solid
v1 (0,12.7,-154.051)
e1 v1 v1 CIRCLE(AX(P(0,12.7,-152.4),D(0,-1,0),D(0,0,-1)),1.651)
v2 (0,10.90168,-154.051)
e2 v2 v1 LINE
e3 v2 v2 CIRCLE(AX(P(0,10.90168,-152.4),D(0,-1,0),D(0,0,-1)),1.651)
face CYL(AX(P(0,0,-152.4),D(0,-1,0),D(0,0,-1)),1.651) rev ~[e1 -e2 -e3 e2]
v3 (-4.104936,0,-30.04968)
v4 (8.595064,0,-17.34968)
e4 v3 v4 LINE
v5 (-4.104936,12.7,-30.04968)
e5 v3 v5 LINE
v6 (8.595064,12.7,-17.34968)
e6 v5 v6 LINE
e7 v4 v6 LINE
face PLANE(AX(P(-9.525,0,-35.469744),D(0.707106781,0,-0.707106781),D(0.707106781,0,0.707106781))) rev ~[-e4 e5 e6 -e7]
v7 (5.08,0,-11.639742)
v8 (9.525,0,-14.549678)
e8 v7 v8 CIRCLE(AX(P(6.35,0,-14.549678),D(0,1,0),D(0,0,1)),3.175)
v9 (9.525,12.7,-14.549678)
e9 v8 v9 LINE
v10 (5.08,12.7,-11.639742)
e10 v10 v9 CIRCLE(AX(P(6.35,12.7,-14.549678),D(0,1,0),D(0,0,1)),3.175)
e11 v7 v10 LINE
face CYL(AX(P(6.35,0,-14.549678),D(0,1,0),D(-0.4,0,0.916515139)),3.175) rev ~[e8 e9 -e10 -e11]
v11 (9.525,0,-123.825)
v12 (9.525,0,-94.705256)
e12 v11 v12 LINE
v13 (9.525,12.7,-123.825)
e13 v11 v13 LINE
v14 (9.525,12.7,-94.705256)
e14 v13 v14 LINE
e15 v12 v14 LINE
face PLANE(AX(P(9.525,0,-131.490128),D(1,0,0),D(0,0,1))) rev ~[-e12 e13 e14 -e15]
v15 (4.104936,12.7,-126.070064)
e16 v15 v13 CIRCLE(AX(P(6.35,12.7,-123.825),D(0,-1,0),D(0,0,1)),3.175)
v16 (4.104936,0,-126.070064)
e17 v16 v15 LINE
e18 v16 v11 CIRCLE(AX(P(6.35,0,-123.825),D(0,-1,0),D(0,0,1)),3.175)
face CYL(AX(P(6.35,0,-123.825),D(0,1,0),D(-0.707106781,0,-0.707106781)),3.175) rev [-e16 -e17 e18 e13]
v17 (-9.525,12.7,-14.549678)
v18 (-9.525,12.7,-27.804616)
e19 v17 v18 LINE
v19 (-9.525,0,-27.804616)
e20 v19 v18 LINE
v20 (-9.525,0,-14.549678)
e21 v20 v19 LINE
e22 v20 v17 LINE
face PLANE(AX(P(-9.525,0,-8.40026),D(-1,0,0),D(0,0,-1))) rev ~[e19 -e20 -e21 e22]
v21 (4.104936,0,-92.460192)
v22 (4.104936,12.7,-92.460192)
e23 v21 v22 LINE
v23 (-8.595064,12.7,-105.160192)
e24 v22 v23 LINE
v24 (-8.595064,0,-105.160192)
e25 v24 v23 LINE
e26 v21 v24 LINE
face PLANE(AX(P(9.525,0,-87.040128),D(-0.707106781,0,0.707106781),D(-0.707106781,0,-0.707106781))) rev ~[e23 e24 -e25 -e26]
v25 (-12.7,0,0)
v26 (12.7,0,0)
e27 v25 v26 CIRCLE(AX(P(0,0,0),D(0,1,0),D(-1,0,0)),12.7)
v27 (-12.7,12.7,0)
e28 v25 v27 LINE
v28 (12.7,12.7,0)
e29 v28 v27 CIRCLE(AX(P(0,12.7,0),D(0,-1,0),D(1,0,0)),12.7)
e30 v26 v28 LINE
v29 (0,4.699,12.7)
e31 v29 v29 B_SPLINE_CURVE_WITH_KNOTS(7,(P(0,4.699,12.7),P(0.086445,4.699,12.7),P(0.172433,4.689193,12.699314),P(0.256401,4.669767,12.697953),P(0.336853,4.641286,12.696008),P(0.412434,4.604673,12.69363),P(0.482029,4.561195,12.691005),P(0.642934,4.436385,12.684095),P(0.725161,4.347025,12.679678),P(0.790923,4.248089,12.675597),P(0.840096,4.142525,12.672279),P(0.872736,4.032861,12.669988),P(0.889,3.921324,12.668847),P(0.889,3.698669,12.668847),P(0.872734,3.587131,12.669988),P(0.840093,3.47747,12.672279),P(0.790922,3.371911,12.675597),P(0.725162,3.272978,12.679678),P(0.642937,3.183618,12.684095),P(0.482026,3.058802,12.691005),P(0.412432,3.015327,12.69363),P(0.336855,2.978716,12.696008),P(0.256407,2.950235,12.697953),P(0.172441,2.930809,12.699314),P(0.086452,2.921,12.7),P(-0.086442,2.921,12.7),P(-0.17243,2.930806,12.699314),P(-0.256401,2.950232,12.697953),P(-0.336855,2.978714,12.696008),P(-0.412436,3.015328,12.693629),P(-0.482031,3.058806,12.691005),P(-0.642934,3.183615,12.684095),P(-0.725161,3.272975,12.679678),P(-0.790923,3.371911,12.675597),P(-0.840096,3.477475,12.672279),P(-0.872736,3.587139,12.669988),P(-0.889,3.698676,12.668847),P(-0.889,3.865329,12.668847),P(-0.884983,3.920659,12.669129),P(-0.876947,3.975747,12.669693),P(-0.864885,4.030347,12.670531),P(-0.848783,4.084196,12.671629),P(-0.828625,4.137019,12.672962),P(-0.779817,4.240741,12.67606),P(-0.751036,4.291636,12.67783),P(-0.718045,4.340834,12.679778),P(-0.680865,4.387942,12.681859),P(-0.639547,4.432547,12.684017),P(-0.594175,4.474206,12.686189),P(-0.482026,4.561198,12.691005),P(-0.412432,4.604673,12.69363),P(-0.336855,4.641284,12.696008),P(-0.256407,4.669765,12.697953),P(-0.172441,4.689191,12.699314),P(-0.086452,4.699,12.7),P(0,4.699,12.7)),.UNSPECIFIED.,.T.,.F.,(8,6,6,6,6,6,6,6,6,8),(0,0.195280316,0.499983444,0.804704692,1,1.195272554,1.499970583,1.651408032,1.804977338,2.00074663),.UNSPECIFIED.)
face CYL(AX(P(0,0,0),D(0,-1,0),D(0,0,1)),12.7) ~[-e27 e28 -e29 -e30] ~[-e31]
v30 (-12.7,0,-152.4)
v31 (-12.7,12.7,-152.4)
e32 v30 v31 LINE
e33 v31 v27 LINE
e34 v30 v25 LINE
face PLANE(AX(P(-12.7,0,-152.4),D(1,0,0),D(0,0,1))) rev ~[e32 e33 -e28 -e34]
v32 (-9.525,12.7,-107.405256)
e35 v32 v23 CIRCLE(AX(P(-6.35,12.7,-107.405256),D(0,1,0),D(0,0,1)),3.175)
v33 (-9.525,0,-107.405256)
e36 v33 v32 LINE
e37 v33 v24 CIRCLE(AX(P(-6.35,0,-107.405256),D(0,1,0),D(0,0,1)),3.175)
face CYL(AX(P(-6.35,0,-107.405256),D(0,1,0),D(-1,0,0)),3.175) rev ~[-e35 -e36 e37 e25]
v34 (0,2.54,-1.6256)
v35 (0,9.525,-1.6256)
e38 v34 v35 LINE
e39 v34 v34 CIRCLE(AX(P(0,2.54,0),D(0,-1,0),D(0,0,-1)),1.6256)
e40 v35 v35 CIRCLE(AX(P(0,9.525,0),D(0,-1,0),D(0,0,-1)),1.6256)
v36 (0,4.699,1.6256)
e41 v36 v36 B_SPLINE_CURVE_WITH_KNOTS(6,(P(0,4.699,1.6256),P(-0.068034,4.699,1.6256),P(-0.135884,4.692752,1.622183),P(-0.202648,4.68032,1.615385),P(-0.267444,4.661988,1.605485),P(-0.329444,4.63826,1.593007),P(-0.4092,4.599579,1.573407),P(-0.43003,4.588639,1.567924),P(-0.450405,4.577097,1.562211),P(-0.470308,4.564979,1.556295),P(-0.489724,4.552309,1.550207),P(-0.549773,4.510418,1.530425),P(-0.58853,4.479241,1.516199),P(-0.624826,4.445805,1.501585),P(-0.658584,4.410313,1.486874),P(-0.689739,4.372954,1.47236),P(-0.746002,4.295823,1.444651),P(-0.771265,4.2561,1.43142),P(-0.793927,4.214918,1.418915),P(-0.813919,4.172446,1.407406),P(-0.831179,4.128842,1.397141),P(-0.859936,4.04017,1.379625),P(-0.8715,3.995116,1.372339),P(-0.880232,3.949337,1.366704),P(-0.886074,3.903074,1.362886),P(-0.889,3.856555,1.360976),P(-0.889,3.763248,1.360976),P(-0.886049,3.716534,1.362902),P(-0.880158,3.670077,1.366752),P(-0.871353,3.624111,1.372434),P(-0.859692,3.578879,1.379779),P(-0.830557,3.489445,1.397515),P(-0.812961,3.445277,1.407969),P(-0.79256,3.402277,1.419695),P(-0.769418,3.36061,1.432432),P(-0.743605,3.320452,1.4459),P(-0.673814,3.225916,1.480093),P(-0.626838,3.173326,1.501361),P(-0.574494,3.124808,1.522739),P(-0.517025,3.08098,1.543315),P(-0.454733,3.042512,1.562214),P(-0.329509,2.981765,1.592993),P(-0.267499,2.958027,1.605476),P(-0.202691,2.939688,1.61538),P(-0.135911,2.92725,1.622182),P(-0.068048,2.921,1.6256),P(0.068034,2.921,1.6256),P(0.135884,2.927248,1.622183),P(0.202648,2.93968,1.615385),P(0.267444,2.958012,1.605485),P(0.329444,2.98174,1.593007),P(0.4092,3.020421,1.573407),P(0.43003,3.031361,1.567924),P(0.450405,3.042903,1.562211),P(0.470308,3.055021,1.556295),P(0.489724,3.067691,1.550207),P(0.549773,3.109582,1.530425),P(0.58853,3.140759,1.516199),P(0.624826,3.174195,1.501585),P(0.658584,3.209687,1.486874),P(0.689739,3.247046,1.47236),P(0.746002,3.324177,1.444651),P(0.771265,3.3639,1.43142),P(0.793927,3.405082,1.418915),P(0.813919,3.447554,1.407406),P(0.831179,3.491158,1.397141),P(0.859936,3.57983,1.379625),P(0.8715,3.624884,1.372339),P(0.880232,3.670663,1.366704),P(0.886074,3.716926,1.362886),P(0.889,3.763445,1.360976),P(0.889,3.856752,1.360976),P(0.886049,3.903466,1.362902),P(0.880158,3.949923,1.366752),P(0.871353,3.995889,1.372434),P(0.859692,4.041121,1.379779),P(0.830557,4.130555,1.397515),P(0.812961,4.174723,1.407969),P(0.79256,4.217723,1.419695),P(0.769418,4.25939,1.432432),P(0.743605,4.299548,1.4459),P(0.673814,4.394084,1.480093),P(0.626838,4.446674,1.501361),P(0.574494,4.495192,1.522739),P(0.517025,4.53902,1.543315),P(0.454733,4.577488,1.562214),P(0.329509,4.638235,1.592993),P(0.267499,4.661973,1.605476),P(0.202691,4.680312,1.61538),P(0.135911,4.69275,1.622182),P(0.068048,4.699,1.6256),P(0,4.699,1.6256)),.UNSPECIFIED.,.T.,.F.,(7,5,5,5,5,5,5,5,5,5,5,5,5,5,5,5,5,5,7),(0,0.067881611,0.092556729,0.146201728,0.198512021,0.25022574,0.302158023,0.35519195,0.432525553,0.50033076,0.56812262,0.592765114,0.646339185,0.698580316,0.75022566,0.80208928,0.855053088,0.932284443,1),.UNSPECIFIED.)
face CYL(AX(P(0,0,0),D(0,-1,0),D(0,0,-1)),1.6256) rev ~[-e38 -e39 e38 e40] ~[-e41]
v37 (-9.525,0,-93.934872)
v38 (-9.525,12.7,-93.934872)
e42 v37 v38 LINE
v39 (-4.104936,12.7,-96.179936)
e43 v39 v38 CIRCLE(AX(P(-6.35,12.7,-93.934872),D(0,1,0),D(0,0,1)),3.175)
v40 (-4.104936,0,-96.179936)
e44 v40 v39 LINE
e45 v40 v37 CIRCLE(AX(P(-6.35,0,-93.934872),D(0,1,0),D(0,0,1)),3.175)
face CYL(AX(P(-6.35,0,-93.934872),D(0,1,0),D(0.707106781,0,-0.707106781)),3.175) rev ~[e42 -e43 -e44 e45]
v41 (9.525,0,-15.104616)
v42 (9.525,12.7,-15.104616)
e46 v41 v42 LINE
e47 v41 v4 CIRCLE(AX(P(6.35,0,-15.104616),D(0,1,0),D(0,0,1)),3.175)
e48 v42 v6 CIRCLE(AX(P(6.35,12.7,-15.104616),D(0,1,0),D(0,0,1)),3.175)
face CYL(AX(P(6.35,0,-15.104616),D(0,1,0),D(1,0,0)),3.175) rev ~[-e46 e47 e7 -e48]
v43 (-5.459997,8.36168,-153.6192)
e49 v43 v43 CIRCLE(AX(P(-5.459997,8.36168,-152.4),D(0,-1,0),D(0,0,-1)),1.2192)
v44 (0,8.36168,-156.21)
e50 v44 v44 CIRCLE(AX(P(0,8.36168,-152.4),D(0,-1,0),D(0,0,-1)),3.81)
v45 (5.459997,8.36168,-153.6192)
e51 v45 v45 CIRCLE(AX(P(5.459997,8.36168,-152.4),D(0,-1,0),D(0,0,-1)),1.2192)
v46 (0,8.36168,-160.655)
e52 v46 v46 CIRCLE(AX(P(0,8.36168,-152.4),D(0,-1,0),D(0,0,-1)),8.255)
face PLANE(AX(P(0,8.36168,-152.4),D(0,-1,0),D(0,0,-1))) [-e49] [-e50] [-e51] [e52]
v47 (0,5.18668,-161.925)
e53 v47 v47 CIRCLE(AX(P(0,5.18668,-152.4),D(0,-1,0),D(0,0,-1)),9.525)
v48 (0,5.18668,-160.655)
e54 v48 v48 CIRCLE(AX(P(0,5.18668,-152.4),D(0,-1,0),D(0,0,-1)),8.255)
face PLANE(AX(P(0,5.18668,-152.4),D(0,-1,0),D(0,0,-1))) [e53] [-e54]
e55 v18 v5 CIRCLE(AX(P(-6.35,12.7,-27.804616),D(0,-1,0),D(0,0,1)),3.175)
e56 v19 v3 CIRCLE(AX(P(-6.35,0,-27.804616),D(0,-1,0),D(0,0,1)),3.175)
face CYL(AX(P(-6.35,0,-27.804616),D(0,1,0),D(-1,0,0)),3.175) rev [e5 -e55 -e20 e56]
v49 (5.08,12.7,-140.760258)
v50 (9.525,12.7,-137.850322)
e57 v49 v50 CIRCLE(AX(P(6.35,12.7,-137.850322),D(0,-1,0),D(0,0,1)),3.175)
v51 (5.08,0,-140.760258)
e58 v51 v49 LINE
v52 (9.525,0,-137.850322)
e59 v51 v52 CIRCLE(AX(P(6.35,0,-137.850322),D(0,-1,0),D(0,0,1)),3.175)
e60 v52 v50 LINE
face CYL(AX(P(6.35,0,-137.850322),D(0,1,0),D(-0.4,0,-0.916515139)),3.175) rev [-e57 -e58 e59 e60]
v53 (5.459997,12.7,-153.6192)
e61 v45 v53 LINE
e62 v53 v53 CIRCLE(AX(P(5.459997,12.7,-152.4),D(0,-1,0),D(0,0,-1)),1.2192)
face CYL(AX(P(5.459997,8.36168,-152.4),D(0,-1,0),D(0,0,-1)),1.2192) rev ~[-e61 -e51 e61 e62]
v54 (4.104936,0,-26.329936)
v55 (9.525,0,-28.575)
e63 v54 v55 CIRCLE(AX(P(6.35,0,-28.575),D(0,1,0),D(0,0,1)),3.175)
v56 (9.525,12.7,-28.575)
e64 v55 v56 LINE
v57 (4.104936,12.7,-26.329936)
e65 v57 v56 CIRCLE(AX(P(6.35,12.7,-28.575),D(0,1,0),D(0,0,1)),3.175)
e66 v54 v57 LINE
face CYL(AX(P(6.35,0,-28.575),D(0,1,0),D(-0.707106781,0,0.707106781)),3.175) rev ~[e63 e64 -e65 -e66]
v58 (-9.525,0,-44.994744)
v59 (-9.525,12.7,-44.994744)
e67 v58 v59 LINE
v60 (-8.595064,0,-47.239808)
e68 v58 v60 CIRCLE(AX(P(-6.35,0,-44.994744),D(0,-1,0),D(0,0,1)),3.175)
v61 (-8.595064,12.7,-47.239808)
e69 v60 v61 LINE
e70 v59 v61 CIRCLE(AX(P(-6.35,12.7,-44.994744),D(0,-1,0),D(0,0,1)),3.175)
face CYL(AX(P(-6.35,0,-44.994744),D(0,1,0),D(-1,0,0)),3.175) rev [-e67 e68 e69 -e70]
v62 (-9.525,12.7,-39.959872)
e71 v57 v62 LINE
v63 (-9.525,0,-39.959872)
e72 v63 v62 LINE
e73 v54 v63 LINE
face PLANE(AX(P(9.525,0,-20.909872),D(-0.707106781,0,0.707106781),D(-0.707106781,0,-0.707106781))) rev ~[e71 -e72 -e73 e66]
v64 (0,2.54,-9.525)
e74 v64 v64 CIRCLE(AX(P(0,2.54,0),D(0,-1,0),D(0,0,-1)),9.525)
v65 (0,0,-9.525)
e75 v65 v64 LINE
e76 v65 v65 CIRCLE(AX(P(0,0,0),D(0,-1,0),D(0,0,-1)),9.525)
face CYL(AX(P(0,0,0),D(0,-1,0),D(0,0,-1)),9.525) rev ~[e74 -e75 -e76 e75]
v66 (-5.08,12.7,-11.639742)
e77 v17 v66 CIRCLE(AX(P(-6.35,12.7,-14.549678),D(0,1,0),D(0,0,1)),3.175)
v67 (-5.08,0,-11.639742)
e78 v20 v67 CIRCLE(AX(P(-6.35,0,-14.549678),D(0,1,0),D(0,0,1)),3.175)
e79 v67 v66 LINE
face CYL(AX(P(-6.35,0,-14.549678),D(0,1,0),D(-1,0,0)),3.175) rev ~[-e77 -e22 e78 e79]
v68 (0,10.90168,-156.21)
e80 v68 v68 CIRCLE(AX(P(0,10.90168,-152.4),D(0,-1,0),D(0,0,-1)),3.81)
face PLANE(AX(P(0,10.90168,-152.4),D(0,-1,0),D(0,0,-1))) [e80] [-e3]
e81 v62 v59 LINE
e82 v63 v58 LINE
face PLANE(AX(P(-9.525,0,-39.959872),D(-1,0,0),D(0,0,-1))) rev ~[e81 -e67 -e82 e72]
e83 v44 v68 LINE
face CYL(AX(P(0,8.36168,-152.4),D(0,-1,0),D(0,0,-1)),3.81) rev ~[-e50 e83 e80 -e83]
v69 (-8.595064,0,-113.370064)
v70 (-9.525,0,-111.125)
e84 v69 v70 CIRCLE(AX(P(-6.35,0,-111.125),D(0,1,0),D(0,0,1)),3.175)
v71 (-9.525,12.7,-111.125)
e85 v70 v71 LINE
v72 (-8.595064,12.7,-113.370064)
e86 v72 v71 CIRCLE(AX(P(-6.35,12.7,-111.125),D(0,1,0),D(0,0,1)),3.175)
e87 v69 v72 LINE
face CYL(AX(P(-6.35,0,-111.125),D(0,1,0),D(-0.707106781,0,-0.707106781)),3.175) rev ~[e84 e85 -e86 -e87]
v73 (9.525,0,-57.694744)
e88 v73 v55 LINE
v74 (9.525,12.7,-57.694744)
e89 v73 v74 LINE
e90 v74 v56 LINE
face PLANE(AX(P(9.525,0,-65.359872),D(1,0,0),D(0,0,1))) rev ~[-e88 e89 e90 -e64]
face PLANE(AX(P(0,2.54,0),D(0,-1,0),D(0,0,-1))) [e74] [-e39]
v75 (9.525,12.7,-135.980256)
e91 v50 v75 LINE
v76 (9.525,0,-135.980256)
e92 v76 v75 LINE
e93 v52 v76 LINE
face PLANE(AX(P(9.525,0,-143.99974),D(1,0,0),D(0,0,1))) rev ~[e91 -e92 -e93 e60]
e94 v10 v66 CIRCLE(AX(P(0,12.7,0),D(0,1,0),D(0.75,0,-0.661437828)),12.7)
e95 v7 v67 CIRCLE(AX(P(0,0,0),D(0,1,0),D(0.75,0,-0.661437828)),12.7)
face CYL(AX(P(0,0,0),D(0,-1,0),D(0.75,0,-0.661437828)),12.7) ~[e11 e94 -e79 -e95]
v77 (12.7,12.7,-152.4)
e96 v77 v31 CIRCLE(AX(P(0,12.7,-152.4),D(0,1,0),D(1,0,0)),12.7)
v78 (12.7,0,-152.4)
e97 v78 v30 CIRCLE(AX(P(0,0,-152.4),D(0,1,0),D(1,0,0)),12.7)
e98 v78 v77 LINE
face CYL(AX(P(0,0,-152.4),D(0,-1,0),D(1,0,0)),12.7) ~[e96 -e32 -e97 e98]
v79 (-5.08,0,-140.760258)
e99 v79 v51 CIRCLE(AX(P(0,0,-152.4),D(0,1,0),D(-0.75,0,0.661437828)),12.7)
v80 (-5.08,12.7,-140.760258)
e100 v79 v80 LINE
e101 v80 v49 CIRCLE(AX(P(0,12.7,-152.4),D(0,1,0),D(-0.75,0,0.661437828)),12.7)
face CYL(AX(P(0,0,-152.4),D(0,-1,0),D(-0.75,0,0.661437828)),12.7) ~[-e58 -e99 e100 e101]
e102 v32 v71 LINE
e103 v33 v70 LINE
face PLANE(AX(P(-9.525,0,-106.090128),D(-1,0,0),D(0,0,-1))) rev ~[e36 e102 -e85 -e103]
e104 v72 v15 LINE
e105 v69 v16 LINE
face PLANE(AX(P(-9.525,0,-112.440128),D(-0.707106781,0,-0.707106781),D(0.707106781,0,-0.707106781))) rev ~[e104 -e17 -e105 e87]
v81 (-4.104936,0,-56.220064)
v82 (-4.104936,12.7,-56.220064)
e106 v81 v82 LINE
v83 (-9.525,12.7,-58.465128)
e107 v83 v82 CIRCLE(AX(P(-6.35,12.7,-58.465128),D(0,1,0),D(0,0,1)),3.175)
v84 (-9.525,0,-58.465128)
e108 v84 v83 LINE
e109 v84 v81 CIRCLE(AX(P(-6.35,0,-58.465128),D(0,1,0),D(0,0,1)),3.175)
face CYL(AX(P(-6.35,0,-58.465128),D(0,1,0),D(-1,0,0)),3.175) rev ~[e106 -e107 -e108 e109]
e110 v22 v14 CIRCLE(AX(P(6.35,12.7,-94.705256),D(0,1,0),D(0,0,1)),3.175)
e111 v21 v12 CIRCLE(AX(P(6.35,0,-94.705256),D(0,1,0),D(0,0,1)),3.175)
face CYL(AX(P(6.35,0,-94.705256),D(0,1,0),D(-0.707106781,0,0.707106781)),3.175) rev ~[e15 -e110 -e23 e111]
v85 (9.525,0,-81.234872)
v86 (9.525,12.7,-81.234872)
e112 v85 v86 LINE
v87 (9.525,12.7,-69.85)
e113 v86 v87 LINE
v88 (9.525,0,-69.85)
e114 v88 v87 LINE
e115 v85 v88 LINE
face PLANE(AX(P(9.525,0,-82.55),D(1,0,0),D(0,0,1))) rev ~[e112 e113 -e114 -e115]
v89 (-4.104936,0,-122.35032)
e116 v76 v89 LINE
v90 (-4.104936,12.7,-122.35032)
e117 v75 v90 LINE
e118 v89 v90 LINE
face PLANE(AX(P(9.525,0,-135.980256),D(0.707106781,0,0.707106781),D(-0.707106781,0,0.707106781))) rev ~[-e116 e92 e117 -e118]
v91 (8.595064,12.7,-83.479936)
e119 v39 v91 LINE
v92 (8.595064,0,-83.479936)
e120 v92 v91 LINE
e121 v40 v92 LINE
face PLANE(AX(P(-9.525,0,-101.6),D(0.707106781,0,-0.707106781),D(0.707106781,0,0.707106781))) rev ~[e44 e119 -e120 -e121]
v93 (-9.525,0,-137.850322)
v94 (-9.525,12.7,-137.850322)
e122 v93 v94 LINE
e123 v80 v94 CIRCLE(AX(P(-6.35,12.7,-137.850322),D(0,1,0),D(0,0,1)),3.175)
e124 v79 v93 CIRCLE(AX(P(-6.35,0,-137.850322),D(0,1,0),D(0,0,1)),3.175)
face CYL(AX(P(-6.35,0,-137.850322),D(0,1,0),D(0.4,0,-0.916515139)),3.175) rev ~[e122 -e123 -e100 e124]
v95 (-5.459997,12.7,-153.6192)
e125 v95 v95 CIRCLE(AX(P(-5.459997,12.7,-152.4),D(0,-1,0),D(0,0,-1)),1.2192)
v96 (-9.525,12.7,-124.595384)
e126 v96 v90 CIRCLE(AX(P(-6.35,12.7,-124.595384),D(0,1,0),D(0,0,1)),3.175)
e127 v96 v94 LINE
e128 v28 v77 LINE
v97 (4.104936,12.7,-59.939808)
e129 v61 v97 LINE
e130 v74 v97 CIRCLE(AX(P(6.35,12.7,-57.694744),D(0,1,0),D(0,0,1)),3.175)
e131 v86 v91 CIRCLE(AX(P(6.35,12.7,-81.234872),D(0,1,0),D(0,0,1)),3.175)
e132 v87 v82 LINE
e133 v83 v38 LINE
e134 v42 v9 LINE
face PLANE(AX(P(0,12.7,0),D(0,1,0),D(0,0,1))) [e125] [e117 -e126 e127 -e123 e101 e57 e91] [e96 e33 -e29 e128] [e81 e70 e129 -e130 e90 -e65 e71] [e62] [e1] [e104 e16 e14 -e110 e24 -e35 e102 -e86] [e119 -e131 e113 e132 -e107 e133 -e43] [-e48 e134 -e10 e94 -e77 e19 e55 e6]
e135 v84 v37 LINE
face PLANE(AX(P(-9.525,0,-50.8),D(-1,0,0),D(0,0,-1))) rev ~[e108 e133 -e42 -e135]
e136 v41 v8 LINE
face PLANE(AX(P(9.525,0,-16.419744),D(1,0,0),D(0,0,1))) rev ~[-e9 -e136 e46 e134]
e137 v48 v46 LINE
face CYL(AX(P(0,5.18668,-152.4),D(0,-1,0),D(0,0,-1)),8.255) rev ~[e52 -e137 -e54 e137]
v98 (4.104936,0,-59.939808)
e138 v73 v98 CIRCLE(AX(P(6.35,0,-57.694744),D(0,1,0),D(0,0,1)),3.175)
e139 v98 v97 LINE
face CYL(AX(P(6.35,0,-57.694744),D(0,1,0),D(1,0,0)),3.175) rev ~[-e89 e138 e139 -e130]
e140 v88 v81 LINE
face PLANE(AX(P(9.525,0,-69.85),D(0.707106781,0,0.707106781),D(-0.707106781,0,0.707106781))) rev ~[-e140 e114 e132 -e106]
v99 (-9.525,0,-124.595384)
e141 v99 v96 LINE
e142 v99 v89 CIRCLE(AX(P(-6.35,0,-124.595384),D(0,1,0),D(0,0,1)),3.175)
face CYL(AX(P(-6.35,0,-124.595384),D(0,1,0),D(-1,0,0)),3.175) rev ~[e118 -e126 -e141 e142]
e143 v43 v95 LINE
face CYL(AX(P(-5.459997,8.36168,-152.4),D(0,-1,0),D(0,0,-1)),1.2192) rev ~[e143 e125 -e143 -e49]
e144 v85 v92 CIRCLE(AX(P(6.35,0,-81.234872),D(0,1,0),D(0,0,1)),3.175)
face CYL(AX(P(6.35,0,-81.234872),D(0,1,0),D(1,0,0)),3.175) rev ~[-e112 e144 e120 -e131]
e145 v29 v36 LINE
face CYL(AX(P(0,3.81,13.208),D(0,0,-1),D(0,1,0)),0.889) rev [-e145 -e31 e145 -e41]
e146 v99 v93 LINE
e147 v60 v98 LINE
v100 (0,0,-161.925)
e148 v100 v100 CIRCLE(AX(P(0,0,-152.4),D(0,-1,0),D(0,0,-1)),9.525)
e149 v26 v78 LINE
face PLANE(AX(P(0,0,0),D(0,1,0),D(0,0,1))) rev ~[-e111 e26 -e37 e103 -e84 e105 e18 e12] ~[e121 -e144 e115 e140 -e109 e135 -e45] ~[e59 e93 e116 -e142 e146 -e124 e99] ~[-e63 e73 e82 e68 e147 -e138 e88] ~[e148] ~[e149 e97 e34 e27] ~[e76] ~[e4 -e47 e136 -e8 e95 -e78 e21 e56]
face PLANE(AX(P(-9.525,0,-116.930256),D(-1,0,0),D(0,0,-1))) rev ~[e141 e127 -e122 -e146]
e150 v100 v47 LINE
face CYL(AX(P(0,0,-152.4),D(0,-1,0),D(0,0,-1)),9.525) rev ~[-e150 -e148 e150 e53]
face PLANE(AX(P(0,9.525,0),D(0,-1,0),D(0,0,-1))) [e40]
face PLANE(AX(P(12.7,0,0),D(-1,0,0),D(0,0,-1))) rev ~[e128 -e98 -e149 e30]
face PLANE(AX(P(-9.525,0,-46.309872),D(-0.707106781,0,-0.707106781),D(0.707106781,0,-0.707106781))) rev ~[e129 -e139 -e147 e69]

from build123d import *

# Parameters (mm, degrees)
SKETCH1_R           = 12.7
BOSS_EXTRUDE1_DEPTH = 12.7
SKETCH2_R           = 1.6256
CUT_EXTRUDE1_DEPTH  = 9.525
SKETCH3_R           = 9.525
CUT_EXTRUDE2_DEPTH  = 2.54
BOSS_EXTRUDE2_START = -12.7
BOSS_EXTRUDE2_DEPTH = 12.7
SKETCH10_R          = 1.651
CUT_EXTRUDE4_DEPTH  = 12.7
SKETCH11_R          = 9.525
CUT_EXTRUDE5_DEPTH  = 5.18668
CUT_EXTRUDE6_DEPTH  = 12.7
FILLET1_R           = 3.175
SKETCH16_R          = 8.255
CUT_EXTRUDE8_DEPTH  = 3.175
SKETCH17_R          = 1.2192
CUT_EXTRUDE9_DEPTH  = 4.33832
SKETCH18_R          = 3.81
CUT_EXTRUDE10_DEPTH = 2.54


with BuildPart() as part:
    # Sketch1 → Boss-Extrude1 (new body)
    with BuildSketch(Plane(origin=(0, 0, 0), x_dir=(1, 0, 0), z_dir=(0, 1, 0))):
        with Locations(Location((0, 0, 0), (0, 0, 270))):
            Circle(SKETCH1_R)
    extrude(amount=BOSS_EXTRUDE1_DEPTH)

    # Sketch2 → Cut-Extrude1 (cut)
    with BuildSketch(Plane.XZ):
        with Locations(Location((0, 0, 0), (0, 0, 270))):
            Circle(SKETCH2_R)
    extrude(amount=-CUT_EXTRUDE1_DEPTH, mode=Mode.SUBTRACT)

    # Sketch3 → Cut-Extrude2 (cut)
    with BuildSketch(Plane.XZ):
        with Locations(Location((0, 0, 0), (0, 0, 270))):
            Circle(SKETCH3_R)
    extrude(amount=-CUT_EXTRUDE2_DEPTH, mode=Mode.SUBTRACT)

    # Sketch5 → #2-56 Tapped Hole1 (revolve, cut)
    with BuildSketch(Plane(origin=(0, 3.81, 0), x_dir=(0, 1, 0), z_dir=(1, 0, 0))):
        Polygon((0, 0), (0, 13.74216509), (0.889, 13.208), (0.889, 0), align=None)
    revolve(axis=Axis((0, 3.81, -6.35), (0, 0, 1)), mode=Mode.SUBTRACT)

    # Sketch7 → Boss-Extrude2 (add)
    with BuildSketch(Plane(origin=(0, 12.7, 0), x_dir=(1, 0, 0), z_dir=(0, 1, 0)).offset(BOSS_EXTRUDE2_START)):
        with BuildLine():
            Line((-12.7, 152.4), (-12.7, 0))
            ThreePointArc((-12.7, 0), (0, 12.7), (12.7, 0))
            Line((12.7, 0), (12.7, 152.4))
            ThreePointArc((12.7, 152.4), (0, 165.1), (-12.7, 152.4))
        make_face()
    extrude(amount=BOSS_EXTRUDE2_DEPTH)

    # Sketch10 → Cut-Extrude4 (cut)
    with BuildSketch(Plane.XZ):
        with Locations(Location((0, -152.4, 0), (0, 0, 270))):
            Circle(SKETCH10_R)
    extrude(amount=-CUT_EXTRUDE4_DEPTH, mode=Mode.SUBTRACT)

    # Sketch11 → Cut-Extrude5 (cut)
    with BuildSketch(Plane.XZ):
        with Locations(Location((0, -152.4, 0), (0, 0, 270))):
            Circle(SKETCH11_R)
    extrude(amount=-CUT_EXTRUDE5_DEPTH, mode=Mode.SUBTRACT)

    # Sketch15 → Cut-Extrude6 (cut)
    with BuildSketch(Plane.XZ):
        with BuildLine():
            Line((-9.525, -35.469743879), (9.525, -16.419743879))
            Line((9.525, -16.419743879), (9.525, -8.400260413))
            ThreePointArc((9.525, -8.400260413), (0, -12.7), (-9.525, -8.400260413))
            Line((-9.525, -8.400260413), (-9.525, -35.469743879))
        make_face()
        Polygon((-9.525, -46.309871939), (9.525, -65.359871939), (9.525, -20.909871939), (-9.525, -39.959871939), align=None)
        Polygon((-9.525, -76.2), (9.525, -76.2), (9.525, -69.85), (-9.525, -50.8), align=None)
        Polygon((9.525, -82.55), (9.525, -76.2), (-9.525, -76.2), (-9.525, -101.6), align=None)
        Polygon((9.525, -131.490128061), (9.525, -87.040128061), (-9.525, -106.090128061), (-9.525, -112.440128061), align=None)
        with BuildLine():
            Line((9.525, -143.999739587), (9.525, -135.980256121))
            Line((9.525, -135.980256121), (-9.525, -116.930256121))
            Line((-9.525, -116.930256121), (-9.525, -143.999739587))
            ThreePointArc((-9.525, -143.999739587), (0, -139.7), (9.525, -143.999739587))
        make_face()
    extrude(amount=-CUT_EXTRUDE6_DEPTH, mode=Mode.SUBTRACT)

    # Fillet1
    fillet1_edges = [part.edges().sort_by_distance(p)[0] for p in [
        (9.525, 6.35, -143.999739587),
        (-9.525, 6.35, -143.999739587),
        (-9.525, 6.35, -116.930256121),
        (-9.525, 6.35, -35.469743879),
        (9.525, 6.35, -16.419743879),
        (9.525, 6.35, -8.400260413),
        (-9.525, 6.35, -8.400260413),
        (-9.525, 6.35, -46.309871939),
        (9.525, 6.35, -65.359871939),
        (9.525, 6.35, -20.909871939),
        (-9.525, 6.35, -101.6),
        (-9.525, 6.35, -50.8),
        (9.525, 6.35, -82.55),
        (9.525, 6.35, -131.490128061),
        (9.525, 6.35, -87.040128061),
        (-9.525, 6.35, -106.090128061),
        (-9.525, 6.35, -112.440128061),
    ]]
    fillet(fillet1_edges, radius=FILLET1_R)

    # Sketch16 → Cut-Extrude8 (cut)
    with BuildSketch(Plane.XZ.offset(-5.18668)):
        with Locations(Location((0, -152.4, 0), (0, 0, 270))):
            Circle(SKETCH16_R)
    extrude(amount=-CUT_EXTRUDE8_DEPTH, mode=Mode.SUBTRACT)

    # Sketch17 → Cut-Extrude9 (cut)
    with BuildSketch(Plane.XZ.offset(-8.36168)):
        with Locations(Location((-5.4599967, -152.4, 0), (0, 0, 270))):
            Circle(SKETCH17_R)
        with Locations(Location((5.4599967, -152.4, 0), (0, 0, 270))):
            Circle(SKETCH17_R)
    extrude(amount=-CUT_EXTRUDE9_DEPTH, mode=Mode.SUBTRACT)

    # Sketch18 → Cut-Extrude10 (cut)
    with BuildSketch(Plane.XZ.offset(-8.36168)):
        with Locations(Location((0, -152.4, 0), (0, 0, 270))):
            Circle(SKETCH18_R)
    extrude(amount=-CUT_EXTRUDE10_DEPTH, mode=Mode.SUBTRACT)


solid = part.part
